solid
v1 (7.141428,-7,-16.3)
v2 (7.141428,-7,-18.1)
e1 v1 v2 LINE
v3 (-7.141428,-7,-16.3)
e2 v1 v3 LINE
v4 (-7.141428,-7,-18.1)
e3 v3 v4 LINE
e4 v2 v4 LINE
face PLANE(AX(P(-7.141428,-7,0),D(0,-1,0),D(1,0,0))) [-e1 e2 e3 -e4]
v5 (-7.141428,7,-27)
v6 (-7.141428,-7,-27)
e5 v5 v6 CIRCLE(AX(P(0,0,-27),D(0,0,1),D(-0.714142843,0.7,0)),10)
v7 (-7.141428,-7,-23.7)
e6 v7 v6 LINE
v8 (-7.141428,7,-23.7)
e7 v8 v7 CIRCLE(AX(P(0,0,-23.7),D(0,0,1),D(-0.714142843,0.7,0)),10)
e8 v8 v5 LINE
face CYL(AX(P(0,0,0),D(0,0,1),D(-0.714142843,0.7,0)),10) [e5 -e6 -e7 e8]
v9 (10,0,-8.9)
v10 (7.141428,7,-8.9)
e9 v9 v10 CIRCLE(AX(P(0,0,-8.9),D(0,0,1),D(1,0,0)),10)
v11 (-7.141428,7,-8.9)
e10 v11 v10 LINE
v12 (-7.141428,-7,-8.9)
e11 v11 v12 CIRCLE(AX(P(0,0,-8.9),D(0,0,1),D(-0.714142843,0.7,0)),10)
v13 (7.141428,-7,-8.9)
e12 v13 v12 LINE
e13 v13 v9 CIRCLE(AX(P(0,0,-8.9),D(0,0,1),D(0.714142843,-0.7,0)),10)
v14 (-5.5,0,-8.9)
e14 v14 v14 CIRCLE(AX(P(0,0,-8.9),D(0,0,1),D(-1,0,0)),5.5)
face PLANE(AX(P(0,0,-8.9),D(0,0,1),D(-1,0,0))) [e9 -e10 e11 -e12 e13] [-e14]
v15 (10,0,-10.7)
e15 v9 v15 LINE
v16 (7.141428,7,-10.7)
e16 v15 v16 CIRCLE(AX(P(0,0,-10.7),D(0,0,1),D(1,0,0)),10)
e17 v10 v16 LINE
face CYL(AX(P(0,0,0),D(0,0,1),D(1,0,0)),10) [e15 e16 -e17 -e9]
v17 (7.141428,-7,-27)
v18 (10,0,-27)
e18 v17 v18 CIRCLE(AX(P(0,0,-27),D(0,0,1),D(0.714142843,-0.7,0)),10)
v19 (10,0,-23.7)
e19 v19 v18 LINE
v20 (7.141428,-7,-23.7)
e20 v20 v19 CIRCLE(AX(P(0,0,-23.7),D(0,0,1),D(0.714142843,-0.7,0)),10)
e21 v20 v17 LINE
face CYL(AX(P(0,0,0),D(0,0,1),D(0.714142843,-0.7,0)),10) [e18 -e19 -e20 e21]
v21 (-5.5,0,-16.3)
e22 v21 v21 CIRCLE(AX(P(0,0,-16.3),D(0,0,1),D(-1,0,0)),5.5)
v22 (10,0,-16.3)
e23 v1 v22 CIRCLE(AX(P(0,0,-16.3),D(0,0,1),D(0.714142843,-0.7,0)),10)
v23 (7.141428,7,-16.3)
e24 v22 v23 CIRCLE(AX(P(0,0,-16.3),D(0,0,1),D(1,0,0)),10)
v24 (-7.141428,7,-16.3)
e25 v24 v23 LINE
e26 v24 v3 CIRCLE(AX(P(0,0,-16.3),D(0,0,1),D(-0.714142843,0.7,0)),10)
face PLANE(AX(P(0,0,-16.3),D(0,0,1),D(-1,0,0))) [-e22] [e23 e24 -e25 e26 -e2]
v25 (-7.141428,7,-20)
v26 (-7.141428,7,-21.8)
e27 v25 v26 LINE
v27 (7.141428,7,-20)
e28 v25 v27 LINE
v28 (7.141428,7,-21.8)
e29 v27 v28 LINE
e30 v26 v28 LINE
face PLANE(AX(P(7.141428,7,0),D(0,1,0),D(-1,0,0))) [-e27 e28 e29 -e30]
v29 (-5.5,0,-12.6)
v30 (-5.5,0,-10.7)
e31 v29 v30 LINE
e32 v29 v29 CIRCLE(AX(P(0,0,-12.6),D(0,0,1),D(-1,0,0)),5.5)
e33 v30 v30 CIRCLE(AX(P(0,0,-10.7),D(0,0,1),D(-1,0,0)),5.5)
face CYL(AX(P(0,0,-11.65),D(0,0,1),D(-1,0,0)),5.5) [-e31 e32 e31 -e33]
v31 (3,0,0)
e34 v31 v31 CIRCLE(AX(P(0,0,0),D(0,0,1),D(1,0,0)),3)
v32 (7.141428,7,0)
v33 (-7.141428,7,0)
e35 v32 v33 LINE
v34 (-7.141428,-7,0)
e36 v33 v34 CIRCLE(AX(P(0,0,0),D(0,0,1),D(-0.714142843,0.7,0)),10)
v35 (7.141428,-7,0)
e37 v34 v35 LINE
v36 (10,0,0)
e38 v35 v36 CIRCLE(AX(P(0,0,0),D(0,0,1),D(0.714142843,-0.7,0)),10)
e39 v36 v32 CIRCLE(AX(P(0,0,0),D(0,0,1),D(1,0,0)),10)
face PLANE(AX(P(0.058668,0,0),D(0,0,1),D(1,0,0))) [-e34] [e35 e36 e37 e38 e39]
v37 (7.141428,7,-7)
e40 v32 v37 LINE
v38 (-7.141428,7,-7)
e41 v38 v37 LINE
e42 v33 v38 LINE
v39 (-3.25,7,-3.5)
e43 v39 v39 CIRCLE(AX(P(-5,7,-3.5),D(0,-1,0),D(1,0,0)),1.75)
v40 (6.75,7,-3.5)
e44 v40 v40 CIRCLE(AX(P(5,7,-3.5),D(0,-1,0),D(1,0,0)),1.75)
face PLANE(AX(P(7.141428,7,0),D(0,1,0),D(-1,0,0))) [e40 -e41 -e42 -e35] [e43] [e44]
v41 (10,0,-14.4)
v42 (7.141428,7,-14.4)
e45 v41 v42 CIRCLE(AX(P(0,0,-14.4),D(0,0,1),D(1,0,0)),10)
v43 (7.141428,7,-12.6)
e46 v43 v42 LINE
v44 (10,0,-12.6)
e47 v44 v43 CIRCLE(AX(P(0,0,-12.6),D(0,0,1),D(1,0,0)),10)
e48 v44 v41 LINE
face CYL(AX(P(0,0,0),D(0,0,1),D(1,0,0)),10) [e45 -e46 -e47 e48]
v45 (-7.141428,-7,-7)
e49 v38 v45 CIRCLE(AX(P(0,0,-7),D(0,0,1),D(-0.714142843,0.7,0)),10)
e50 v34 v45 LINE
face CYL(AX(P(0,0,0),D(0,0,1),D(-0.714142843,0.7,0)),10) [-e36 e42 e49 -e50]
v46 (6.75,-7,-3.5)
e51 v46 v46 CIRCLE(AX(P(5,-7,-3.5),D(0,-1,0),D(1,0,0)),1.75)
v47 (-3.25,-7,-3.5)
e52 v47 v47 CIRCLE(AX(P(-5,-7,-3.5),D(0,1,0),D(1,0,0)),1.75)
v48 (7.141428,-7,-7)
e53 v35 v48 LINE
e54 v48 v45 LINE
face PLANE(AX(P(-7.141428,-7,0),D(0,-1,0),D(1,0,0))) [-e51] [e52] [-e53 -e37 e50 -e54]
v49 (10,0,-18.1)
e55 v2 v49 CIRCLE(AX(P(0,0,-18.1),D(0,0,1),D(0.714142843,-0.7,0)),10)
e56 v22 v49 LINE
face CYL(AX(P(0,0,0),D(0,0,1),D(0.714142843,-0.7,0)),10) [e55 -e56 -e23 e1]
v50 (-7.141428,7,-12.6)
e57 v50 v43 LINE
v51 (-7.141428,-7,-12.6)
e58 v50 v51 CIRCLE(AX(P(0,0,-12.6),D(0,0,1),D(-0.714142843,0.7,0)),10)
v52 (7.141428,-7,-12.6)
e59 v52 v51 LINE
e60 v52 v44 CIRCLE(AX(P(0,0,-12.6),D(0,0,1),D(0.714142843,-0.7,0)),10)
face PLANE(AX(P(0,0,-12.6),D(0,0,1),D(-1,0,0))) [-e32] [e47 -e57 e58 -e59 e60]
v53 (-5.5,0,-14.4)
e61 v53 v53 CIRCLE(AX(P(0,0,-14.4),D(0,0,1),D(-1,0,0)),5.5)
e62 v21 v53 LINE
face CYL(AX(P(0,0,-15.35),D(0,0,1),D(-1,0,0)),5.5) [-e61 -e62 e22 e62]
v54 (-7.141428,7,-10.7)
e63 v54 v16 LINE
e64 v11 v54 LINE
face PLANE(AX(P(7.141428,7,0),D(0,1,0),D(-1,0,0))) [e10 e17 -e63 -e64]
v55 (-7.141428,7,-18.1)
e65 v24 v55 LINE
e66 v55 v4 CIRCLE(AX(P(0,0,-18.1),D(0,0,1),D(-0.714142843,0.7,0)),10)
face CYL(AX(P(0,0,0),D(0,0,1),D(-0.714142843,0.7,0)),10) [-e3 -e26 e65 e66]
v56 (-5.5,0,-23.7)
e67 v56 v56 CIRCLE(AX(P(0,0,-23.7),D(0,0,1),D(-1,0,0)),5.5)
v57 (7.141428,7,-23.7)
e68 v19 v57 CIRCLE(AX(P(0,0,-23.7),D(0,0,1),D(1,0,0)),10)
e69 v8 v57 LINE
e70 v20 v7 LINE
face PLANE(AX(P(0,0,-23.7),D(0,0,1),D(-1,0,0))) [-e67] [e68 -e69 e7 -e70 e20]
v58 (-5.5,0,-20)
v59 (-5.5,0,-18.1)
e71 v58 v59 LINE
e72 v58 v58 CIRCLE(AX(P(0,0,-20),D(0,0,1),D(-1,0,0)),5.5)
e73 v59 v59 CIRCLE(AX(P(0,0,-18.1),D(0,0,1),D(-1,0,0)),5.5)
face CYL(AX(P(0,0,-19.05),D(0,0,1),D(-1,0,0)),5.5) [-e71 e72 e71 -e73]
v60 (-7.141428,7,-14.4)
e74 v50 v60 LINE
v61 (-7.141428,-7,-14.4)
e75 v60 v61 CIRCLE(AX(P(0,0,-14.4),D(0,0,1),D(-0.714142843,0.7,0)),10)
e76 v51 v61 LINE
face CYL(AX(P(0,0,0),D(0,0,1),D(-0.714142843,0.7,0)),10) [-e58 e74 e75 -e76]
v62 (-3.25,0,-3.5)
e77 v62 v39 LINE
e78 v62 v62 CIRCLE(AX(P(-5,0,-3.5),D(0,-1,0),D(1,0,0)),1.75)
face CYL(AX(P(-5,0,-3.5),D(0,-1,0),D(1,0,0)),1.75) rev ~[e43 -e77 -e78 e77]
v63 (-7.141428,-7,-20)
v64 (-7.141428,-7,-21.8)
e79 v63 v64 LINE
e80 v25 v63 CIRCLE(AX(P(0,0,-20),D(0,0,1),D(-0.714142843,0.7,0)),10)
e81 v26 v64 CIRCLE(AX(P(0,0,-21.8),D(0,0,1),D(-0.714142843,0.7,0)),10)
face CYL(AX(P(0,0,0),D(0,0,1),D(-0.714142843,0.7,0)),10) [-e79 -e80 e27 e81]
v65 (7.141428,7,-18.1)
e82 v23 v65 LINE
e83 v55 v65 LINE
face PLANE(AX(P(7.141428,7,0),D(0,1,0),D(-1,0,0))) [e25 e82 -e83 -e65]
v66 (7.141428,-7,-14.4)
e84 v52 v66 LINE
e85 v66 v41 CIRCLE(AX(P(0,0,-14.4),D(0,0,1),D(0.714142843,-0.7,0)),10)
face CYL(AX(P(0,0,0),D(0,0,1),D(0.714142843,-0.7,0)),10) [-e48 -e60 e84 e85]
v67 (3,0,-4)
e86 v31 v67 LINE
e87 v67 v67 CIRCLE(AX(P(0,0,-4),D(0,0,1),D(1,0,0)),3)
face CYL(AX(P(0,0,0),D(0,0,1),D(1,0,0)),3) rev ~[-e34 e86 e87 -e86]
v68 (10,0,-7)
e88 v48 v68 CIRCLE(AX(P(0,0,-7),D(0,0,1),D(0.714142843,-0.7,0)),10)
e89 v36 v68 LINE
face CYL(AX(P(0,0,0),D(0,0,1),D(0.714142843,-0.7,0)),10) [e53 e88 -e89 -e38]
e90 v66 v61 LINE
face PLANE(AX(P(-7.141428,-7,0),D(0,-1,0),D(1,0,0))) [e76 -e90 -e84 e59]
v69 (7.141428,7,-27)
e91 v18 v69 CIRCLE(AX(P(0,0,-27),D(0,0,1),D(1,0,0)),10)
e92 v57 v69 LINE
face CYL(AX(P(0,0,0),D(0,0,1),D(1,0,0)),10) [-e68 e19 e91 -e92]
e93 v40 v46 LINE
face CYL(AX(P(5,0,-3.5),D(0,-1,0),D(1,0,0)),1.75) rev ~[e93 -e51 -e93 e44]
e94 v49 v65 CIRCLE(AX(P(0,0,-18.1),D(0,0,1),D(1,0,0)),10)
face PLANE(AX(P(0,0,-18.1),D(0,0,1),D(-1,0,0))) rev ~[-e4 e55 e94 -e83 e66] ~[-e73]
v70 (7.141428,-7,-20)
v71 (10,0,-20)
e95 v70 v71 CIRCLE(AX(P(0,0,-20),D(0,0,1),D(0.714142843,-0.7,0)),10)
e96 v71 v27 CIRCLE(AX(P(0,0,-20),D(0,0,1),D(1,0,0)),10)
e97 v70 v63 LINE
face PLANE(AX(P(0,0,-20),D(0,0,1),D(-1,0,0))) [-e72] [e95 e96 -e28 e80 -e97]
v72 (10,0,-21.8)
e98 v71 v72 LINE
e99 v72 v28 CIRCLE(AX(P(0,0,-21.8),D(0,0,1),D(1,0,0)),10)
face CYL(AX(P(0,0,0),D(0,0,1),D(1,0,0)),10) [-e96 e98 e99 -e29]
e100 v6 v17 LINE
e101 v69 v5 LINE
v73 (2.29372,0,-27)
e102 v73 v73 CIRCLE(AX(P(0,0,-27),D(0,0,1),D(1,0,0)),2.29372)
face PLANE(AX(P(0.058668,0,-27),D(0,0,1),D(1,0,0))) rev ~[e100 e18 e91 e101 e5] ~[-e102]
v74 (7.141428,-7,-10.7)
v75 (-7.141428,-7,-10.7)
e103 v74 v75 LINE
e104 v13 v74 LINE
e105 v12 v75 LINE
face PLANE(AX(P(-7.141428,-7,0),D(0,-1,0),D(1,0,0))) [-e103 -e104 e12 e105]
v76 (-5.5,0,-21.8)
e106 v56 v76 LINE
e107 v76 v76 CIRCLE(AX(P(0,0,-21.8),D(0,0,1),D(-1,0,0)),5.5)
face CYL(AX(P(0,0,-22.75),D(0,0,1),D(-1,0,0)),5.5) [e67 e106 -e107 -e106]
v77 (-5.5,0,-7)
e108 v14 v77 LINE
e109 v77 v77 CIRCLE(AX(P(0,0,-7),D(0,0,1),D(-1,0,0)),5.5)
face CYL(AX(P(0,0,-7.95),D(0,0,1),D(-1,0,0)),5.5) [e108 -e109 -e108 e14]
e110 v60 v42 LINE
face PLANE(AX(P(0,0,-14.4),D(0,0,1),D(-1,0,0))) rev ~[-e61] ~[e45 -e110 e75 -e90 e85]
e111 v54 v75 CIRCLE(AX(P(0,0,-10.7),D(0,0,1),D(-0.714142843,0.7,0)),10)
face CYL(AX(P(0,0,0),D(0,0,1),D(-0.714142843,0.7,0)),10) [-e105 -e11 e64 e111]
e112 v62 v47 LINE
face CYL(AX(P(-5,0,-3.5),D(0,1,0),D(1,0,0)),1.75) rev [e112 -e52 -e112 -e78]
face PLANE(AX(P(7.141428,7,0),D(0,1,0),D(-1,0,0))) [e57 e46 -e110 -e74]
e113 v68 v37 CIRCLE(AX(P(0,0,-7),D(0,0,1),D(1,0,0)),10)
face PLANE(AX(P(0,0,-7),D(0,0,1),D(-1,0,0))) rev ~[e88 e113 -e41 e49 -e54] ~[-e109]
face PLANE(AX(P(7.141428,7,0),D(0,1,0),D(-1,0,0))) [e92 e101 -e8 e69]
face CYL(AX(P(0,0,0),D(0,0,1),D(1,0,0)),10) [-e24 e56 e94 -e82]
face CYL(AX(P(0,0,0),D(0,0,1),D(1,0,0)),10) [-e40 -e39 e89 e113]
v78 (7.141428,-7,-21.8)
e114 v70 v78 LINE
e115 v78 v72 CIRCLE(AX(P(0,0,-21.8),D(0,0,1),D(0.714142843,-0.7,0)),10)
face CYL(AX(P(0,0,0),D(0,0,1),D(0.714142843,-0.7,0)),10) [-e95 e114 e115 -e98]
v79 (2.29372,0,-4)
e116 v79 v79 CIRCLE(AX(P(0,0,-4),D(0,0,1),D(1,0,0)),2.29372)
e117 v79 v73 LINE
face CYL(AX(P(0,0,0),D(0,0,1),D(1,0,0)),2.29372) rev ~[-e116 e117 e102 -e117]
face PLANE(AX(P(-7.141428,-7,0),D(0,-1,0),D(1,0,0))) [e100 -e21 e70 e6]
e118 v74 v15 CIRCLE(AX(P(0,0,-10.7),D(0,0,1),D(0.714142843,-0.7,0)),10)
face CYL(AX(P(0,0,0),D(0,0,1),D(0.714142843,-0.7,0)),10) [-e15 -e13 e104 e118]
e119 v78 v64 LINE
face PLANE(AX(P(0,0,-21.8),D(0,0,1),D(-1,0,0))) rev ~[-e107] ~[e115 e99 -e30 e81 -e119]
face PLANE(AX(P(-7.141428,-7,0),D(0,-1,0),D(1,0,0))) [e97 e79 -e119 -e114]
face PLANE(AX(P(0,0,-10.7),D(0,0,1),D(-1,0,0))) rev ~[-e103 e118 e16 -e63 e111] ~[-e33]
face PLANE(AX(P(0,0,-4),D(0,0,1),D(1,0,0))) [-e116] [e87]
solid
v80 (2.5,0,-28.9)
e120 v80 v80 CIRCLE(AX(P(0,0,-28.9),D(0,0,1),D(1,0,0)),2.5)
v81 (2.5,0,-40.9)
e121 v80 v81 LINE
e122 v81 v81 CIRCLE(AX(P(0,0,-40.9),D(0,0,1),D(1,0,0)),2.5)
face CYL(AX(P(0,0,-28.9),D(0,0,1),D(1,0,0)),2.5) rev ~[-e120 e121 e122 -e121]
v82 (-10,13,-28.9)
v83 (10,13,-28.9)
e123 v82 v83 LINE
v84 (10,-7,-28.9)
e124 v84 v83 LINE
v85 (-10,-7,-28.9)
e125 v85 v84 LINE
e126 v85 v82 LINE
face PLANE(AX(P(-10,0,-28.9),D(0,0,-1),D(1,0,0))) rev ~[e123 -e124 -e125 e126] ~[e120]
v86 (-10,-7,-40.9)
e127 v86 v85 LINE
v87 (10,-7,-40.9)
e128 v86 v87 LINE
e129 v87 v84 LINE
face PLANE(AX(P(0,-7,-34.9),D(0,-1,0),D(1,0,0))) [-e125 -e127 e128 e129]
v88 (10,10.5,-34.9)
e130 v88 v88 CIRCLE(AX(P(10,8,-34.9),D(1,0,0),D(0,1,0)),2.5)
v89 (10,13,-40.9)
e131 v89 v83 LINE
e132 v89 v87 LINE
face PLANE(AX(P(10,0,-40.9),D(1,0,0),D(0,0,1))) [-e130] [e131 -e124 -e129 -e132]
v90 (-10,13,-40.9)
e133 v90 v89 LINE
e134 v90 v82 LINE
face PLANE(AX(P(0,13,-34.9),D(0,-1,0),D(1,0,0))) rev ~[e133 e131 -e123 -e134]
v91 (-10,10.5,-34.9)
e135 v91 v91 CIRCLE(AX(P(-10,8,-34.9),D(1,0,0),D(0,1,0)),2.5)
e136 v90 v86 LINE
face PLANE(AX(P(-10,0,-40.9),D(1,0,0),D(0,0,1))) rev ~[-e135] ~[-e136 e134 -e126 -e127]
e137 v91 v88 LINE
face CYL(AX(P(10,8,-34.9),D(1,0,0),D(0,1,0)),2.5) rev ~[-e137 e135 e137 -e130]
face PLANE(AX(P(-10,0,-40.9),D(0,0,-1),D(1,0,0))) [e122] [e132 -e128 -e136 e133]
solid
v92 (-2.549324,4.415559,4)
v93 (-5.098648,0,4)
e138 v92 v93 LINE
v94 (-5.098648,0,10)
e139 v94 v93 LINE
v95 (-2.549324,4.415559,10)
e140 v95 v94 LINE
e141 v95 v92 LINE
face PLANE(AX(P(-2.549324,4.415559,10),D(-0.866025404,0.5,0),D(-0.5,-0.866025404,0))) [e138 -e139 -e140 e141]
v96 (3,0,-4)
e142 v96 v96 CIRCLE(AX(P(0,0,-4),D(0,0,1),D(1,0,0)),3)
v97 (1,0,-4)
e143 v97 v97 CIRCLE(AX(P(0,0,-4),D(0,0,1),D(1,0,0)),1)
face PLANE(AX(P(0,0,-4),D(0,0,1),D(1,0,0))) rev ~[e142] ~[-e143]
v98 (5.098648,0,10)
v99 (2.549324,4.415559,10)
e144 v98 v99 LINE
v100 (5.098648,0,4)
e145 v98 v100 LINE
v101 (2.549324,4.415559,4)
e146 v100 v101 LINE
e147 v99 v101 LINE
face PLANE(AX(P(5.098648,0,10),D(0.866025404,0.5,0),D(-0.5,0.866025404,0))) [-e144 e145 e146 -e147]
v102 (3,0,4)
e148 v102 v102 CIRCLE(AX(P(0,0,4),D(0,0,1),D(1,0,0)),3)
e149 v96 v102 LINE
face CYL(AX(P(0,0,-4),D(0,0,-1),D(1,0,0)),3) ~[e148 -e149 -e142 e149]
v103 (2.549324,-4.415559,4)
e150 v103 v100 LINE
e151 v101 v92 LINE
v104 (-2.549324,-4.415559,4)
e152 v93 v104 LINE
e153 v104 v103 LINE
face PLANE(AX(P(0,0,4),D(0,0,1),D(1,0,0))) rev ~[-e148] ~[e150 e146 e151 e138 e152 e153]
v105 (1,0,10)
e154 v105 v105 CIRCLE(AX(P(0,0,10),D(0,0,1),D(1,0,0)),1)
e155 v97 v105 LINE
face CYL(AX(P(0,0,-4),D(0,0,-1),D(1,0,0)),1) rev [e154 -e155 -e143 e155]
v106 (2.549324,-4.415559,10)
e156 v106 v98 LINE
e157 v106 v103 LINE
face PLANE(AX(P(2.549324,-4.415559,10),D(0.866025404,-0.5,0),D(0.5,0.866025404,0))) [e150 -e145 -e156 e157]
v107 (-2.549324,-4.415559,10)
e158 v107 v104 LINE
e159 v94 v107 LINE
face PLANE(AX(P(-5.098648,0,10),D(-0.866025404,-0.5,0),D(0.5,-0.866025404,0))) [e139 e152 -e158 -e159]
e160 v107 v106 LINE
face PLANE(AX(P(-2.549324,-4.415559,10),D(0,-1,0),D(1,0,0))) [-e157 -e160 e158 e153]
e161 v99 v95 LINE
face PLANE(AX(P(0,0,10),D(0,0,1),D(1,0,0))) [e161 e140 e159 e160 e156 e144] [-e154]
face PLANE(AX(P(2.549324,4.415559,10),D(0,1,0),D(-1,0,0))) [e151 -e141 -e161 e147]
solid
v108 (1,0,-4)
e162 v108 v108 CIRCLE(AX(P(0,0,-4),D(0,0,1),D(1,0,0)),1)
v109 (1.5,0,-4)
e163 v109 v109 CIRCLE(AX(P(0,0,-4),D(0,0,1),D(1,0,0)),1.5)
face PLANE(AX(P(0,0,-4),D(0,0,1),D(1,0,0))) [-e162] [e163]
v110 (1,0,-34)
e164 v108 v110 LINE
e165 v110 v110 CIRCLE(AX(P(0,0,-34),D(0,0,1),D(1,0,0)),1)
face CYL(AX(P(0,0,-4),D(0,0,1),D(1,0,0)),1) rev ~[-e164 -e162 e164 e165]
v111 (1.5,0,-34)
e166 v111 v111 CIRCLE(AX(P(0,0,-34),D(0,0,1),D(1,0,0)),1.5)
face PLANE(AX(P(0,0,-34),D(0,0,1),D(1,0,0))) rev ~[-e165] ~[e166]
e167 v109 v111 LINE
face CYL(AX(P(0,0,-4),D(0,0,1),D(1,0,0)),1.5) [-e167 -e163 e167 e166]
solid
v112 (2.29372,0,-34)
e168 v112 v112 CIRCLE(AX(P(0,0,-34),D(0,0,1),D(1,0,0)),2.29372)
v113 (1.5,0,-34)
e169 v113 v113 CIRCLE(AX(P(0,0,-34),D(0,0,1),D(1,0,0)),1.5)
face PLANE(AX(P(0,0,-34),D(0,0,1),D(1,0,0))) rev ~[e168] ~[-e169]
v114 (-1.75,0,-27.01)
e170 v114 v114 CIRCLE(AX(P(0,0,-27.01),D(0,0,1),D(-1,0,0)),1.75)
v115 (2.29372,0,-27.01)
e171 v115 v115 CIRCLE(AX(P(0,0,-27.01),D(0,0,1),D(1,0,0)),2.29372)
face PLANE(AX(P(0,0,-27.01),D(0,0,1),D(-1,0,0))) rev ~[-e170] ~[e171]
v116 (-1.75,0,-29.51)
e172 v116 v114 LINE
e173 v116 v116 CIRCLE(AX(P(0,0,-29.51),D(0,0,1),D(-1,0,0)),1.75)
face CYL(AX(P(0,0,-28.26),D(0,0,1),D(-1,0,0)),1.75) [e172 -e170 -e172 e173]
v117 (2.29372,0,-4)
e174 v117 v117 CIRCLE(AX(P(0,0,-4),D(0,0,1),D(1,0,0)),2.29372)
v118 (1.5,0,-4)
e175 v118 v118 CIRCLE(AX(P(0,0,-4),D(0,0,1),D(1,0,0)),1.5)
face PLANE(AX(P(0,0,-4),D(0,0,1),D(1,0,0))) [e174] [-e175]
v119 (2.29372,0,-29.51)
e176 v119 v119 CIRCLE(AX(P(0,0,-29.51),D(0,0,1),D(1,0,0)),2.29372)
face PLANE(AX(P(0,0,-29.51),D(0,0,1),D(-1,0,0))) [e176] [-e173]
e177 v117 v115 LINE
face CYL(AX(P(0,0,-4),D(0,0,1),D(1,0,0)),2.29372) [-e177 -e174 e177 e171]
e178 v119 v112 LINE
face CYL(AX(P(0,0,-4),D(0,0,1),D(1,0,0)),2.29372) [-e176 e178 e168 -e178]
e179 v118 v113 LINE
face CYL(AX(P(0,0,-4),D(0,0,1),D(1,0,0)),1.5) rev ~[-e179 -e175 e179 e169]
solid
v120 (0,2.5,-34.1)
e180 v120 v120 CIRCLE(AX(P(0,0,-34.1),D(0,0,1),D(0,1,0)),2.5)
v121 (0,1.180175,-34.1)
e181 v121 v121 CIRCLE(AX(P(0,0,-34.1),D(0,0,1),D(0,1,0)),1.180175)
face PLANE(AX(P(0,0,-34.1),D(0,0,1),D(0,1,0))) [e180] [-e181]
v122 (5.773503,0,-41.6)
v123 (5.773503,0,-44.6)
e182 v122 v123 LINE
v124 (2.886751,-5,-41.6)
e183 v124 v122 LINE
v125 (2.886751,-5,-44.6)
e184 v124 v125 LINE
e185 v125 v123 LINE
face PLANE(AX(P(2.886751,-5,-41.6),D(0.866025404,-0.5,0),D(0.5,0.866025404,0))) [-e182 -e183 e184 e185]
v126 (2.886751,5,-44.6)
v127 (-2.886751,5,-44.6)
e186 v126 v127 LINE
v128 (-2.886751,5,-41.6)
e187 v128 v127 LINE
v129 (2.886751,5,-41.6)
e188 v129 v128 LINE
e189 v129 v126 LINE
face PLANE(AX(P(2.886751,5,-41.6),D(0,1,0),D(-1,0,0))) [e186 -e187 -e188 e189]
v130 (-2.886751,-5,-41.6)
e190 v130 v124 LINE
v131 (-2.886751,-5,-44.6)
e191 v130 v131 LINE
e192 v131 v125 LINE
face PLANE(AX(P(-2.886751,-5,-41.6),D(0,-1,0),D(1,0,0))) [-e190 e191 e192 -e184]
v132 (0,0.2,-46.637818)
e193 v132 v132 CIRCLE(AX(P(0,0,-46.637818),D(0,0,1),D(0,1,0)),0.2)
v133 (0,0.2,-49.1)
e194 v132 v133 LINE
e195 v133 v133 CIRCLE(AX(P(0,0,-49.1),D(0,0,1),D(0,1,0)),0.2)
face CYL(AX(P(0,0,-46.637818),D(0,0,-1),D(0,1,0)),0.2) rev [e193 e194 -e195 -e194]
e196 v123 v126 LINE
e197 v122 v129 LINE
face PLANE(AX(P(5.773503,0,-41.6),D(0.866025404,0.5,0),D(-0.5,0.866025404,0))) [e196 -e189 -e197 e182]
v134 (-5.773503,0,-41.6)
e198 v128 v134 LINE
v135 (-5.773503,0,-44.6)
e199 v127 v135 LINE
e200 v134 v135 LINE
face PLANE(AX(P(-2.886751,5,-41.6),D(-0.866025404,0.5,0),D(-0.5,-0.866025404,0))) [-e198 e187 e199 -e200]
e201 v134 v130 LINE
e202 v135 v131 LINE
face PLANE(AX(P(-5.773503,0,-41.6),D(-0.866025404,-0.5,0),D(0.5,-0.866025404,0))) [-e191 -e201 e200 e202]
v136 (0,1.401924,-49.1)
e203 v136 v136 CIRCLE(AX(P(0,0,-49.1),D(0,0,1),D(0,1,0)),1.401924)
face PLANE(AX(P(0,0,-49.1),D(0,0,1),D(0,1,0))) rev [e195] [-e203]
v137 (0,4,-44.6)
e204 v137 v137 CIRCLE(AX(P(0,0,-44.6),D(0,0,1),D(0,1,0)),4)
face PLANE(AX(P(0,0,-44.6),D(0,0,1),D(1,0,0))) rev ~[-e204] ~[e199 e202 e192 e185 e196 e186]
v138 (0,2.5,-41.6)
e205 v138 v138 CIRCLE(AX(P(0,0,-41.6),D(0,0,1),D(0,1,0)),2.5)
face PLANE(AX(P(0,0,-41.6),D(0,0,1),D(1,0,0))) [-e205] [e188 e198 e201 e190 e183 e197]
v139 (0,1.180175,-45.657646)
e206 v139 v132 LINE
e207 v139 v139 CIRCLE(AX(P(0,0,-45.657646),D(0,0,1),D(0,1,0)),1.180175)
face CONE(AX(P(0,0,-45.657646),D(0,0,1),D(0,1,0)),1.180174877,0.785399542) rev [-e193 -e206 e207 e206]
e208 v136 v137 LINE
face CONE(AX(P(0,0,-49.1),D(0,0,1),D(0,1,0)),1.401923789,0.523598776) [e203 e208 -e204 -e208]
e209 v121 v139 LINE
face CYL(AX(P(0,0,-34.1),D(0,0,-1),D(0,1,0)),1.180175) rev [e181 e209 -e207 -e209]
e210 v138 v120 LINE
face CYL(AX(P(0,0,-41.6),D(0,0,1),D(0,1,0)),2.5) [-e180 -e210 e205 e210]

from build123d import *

# Parameters (mm, degrees)
F0_R           = 2.2937200761
F1_DEPTH       = 27
F2_W           = 10
F2_H           = 1.9
F2_R           = 1.75
F4_DEPTH       = 12.5
F5_R           = 3
F6_DEPTH       = 4
F7_R           = 2.2937200761
F7_R_2         = 1.5
F8_DEPTH       = 30
F7_R_3         = 1
F9_DEPTH       = 30
F10_W          = 10
F10_H          = 2.5
F12_W          = 20
F12_H          = 12
F13_DEPTH      = 7
F13_DEPTH_BACK = 13
F14_R          = 2.5
F15_DEPTH      = 12.001
F16_R          = 2.5
F17_DEPTH      = 20
F20_R          = 4
F21_DEPTH      = 3
F22_R          = 3
F22_R_2        = 2.2937200761
F22_R_3        = 1
F23_DEPTH      = 14
F24_R          = 3
F25_DEPTH      = 6


with BuildPart() as f1:
    # F0 (on Top) → F1 (new body)
    with BuildSketch(Plane.XY):
        with BuildLine():
            ThreePointArc((7.1414284285, -7), (9.2578151927, -3.7805896177), (10, 0))
            ThreePointArc((10, 0), (9.2578151927, 3.7805896177), (7.1414284285, 7))
            Line((7.1414284285, 7), (-7.1414284285, 7))
            ThreePointArc((-7.1414284285, 7), (-10, 0), (-7.1414284285, -7))
            Line((-7.1414284285, -7), (7.1414284285, -7))
        make_face()
        Circle(F0_R, mode=Mode.SUBTRACT)
    extrude(amount=-F1_DEPTH)

    # F2 (on Front) → F3 (revolve, cut)
    with BuildSketch(Plane.XZ):
        with Locations((-10.5, -7.95)):
            Rectangle(F2_W, F2_H)
        with Locations((-10.5, -11.65)):
            Rectangle(F2_W, F2_H)
        with Locations((-10.5, -15.35)):
            Rectangle(F2_W, F2_H)
        with Locations((-10.5, -19.05)):
            Rectangle(F2_W, F2_H)
        with Locations((-10.5, -22.75)):
            Rectangle(F2_W, F2_H)
    revolve(axis=Axis((0, 0, 12.942626141), (0, 0, 1)), mode=Mode.SUBTRACT)

    # F2 (on Front) → F4 (cut, symmetric)
    with BuildSketch(Plane.XZ):
        with Locations((-5, -3.5)):
            Circle(F2_R)
        with Locations((5, -3.5)):
            Circle(F2_R)
    extrude(amount=F4_DEPTH, both=True, mode=Mode.SUBTRACT)

    # F5 (on face) → F6 (cut)
    with BuildSketch(Plane.XY):
        Circle(F5_R)
    extrude(amount=-F6_DEPTH, mode=Mode.SUBTRACT)


with BuildPart() as f8:
    # F7 (on face) → F8 (new body)
    with BuildSketch(Plane.XY.offset(-4)):
        Circle(F7_R)
        Circle(F7_R_2, mode=Mode.SUBTRACT)
    extrude(amount=-F8_DEPTH)

    # F10 (on Front) → F11 (revolve, cut)
    with BuildSketch(Plane.XZ):
        with Locations((-6.75, -28.26)):
            Rectangle(F10_W, F10_H)
    revolve(axis=Axis((0, 0, 9.7510513449), (0, 0, 1)), mode=Mode.SUBTRACT)


with BuildPart() as f9:
    # F7 (on face) → F9 (new body, through all)
    with BuildSketch(Plane.XY.offset(-4)):
        Circle(F7_R_2)
        Circle(F7_R_3, mode=Mode.SUBTRACT)
    extrude(amount=-F9_DEPTH)


with BuildPart() as f13:
    # F12 (on Front) → F13 (new body, two sides)
    with BuildSketch(Plane.XZ) as f13_sk:
        with Locations((0, -34.9)):
            Rectangle(F12_W, F12_H)
    extrude(amount=F13_DEPTH)
    extrude(f13_sk.sketch, amount=-F13_DEPTH_BACK)

    # F14 (on face) → F15 (cut, through all)
    with BuildSketch(Plane.XY.offset(-28.9)):
        Circle(F14_R)
    extrude(amount=-F15_DEPTH, mode=Mode.SUBTRACT)

    # F16 (on face) → F17 (cut, symmetric)
    with BuildSketch(Plane.YZ.offset(10)):
        with Locations((8, -34.9)):
            Circle(F16_R)
    extrude(amount=F17_DEPTH, both=True, mode=Mode.SUBTRACT)


with BuildPart() as f19:
    # F18 (on Right) → F19 (revolve)
    with BuildSketch(Plane.YZ):
        Polygon((2.5, -34.1), (1.1801748769, -34.1), (1.1801748769, -45.6576456319), (0.2, -46.637817806), (0.2, -49.1), (1.4019237886, -49.1), (4, -44.6), (4, -41.6), (2.5, -41.6), align=None)
    revolve(axis=Axis((0, 0, 4.5873620547), (0, 0, 1)))

    # F20 (on face) → F21 (join)
    with BuildSketch(Plane.XY.offset(-41.6)):
        Polygon((5.7735026919, 0), (2.8867513459, 5), (-2.8867513459, 5), (-5.7735026919, 0), (-2.8867513459, -5), (2.8867513459, -5), align=None)
        Circle(F20_R, mode=Mode.SUBTRACT)
    extrude(amount=-F21_DEPTH)


with BuildPart() as f23:
    # F22 (on face) → F23 (new body)
    with BuildSketch(Plane.XY.offset(-4)):
        Circle(F22_R)
        Circle(F22_R_2, mode=Mode.SUBTRACT)
        Circle(F22_R_2)
        Circle(F22_R_3, mode=Mode.SUBTRACT)
    extrude(amount=F23_DEPTH)

    # F24 (on face) → F25 (join)
    with BuildSketch(Plane.XY.offset(10)):
        Polygon((2.5493241698, 4.415558987), (-2.5493241698, 4.415558987), (-5.0986483395, 0), (-2.5493241698, -4.415558987), (2.5493241698, -4.415558987), (5.0986483395, 0), align=None)
        Circle(F24_R, mode=Mode.SUBTRACT)
    extrude(amount=-F25_DEPTH)


solid = Compound([f1.part, f8.part, f9.part, f13.part, f19.part, f23.part])
